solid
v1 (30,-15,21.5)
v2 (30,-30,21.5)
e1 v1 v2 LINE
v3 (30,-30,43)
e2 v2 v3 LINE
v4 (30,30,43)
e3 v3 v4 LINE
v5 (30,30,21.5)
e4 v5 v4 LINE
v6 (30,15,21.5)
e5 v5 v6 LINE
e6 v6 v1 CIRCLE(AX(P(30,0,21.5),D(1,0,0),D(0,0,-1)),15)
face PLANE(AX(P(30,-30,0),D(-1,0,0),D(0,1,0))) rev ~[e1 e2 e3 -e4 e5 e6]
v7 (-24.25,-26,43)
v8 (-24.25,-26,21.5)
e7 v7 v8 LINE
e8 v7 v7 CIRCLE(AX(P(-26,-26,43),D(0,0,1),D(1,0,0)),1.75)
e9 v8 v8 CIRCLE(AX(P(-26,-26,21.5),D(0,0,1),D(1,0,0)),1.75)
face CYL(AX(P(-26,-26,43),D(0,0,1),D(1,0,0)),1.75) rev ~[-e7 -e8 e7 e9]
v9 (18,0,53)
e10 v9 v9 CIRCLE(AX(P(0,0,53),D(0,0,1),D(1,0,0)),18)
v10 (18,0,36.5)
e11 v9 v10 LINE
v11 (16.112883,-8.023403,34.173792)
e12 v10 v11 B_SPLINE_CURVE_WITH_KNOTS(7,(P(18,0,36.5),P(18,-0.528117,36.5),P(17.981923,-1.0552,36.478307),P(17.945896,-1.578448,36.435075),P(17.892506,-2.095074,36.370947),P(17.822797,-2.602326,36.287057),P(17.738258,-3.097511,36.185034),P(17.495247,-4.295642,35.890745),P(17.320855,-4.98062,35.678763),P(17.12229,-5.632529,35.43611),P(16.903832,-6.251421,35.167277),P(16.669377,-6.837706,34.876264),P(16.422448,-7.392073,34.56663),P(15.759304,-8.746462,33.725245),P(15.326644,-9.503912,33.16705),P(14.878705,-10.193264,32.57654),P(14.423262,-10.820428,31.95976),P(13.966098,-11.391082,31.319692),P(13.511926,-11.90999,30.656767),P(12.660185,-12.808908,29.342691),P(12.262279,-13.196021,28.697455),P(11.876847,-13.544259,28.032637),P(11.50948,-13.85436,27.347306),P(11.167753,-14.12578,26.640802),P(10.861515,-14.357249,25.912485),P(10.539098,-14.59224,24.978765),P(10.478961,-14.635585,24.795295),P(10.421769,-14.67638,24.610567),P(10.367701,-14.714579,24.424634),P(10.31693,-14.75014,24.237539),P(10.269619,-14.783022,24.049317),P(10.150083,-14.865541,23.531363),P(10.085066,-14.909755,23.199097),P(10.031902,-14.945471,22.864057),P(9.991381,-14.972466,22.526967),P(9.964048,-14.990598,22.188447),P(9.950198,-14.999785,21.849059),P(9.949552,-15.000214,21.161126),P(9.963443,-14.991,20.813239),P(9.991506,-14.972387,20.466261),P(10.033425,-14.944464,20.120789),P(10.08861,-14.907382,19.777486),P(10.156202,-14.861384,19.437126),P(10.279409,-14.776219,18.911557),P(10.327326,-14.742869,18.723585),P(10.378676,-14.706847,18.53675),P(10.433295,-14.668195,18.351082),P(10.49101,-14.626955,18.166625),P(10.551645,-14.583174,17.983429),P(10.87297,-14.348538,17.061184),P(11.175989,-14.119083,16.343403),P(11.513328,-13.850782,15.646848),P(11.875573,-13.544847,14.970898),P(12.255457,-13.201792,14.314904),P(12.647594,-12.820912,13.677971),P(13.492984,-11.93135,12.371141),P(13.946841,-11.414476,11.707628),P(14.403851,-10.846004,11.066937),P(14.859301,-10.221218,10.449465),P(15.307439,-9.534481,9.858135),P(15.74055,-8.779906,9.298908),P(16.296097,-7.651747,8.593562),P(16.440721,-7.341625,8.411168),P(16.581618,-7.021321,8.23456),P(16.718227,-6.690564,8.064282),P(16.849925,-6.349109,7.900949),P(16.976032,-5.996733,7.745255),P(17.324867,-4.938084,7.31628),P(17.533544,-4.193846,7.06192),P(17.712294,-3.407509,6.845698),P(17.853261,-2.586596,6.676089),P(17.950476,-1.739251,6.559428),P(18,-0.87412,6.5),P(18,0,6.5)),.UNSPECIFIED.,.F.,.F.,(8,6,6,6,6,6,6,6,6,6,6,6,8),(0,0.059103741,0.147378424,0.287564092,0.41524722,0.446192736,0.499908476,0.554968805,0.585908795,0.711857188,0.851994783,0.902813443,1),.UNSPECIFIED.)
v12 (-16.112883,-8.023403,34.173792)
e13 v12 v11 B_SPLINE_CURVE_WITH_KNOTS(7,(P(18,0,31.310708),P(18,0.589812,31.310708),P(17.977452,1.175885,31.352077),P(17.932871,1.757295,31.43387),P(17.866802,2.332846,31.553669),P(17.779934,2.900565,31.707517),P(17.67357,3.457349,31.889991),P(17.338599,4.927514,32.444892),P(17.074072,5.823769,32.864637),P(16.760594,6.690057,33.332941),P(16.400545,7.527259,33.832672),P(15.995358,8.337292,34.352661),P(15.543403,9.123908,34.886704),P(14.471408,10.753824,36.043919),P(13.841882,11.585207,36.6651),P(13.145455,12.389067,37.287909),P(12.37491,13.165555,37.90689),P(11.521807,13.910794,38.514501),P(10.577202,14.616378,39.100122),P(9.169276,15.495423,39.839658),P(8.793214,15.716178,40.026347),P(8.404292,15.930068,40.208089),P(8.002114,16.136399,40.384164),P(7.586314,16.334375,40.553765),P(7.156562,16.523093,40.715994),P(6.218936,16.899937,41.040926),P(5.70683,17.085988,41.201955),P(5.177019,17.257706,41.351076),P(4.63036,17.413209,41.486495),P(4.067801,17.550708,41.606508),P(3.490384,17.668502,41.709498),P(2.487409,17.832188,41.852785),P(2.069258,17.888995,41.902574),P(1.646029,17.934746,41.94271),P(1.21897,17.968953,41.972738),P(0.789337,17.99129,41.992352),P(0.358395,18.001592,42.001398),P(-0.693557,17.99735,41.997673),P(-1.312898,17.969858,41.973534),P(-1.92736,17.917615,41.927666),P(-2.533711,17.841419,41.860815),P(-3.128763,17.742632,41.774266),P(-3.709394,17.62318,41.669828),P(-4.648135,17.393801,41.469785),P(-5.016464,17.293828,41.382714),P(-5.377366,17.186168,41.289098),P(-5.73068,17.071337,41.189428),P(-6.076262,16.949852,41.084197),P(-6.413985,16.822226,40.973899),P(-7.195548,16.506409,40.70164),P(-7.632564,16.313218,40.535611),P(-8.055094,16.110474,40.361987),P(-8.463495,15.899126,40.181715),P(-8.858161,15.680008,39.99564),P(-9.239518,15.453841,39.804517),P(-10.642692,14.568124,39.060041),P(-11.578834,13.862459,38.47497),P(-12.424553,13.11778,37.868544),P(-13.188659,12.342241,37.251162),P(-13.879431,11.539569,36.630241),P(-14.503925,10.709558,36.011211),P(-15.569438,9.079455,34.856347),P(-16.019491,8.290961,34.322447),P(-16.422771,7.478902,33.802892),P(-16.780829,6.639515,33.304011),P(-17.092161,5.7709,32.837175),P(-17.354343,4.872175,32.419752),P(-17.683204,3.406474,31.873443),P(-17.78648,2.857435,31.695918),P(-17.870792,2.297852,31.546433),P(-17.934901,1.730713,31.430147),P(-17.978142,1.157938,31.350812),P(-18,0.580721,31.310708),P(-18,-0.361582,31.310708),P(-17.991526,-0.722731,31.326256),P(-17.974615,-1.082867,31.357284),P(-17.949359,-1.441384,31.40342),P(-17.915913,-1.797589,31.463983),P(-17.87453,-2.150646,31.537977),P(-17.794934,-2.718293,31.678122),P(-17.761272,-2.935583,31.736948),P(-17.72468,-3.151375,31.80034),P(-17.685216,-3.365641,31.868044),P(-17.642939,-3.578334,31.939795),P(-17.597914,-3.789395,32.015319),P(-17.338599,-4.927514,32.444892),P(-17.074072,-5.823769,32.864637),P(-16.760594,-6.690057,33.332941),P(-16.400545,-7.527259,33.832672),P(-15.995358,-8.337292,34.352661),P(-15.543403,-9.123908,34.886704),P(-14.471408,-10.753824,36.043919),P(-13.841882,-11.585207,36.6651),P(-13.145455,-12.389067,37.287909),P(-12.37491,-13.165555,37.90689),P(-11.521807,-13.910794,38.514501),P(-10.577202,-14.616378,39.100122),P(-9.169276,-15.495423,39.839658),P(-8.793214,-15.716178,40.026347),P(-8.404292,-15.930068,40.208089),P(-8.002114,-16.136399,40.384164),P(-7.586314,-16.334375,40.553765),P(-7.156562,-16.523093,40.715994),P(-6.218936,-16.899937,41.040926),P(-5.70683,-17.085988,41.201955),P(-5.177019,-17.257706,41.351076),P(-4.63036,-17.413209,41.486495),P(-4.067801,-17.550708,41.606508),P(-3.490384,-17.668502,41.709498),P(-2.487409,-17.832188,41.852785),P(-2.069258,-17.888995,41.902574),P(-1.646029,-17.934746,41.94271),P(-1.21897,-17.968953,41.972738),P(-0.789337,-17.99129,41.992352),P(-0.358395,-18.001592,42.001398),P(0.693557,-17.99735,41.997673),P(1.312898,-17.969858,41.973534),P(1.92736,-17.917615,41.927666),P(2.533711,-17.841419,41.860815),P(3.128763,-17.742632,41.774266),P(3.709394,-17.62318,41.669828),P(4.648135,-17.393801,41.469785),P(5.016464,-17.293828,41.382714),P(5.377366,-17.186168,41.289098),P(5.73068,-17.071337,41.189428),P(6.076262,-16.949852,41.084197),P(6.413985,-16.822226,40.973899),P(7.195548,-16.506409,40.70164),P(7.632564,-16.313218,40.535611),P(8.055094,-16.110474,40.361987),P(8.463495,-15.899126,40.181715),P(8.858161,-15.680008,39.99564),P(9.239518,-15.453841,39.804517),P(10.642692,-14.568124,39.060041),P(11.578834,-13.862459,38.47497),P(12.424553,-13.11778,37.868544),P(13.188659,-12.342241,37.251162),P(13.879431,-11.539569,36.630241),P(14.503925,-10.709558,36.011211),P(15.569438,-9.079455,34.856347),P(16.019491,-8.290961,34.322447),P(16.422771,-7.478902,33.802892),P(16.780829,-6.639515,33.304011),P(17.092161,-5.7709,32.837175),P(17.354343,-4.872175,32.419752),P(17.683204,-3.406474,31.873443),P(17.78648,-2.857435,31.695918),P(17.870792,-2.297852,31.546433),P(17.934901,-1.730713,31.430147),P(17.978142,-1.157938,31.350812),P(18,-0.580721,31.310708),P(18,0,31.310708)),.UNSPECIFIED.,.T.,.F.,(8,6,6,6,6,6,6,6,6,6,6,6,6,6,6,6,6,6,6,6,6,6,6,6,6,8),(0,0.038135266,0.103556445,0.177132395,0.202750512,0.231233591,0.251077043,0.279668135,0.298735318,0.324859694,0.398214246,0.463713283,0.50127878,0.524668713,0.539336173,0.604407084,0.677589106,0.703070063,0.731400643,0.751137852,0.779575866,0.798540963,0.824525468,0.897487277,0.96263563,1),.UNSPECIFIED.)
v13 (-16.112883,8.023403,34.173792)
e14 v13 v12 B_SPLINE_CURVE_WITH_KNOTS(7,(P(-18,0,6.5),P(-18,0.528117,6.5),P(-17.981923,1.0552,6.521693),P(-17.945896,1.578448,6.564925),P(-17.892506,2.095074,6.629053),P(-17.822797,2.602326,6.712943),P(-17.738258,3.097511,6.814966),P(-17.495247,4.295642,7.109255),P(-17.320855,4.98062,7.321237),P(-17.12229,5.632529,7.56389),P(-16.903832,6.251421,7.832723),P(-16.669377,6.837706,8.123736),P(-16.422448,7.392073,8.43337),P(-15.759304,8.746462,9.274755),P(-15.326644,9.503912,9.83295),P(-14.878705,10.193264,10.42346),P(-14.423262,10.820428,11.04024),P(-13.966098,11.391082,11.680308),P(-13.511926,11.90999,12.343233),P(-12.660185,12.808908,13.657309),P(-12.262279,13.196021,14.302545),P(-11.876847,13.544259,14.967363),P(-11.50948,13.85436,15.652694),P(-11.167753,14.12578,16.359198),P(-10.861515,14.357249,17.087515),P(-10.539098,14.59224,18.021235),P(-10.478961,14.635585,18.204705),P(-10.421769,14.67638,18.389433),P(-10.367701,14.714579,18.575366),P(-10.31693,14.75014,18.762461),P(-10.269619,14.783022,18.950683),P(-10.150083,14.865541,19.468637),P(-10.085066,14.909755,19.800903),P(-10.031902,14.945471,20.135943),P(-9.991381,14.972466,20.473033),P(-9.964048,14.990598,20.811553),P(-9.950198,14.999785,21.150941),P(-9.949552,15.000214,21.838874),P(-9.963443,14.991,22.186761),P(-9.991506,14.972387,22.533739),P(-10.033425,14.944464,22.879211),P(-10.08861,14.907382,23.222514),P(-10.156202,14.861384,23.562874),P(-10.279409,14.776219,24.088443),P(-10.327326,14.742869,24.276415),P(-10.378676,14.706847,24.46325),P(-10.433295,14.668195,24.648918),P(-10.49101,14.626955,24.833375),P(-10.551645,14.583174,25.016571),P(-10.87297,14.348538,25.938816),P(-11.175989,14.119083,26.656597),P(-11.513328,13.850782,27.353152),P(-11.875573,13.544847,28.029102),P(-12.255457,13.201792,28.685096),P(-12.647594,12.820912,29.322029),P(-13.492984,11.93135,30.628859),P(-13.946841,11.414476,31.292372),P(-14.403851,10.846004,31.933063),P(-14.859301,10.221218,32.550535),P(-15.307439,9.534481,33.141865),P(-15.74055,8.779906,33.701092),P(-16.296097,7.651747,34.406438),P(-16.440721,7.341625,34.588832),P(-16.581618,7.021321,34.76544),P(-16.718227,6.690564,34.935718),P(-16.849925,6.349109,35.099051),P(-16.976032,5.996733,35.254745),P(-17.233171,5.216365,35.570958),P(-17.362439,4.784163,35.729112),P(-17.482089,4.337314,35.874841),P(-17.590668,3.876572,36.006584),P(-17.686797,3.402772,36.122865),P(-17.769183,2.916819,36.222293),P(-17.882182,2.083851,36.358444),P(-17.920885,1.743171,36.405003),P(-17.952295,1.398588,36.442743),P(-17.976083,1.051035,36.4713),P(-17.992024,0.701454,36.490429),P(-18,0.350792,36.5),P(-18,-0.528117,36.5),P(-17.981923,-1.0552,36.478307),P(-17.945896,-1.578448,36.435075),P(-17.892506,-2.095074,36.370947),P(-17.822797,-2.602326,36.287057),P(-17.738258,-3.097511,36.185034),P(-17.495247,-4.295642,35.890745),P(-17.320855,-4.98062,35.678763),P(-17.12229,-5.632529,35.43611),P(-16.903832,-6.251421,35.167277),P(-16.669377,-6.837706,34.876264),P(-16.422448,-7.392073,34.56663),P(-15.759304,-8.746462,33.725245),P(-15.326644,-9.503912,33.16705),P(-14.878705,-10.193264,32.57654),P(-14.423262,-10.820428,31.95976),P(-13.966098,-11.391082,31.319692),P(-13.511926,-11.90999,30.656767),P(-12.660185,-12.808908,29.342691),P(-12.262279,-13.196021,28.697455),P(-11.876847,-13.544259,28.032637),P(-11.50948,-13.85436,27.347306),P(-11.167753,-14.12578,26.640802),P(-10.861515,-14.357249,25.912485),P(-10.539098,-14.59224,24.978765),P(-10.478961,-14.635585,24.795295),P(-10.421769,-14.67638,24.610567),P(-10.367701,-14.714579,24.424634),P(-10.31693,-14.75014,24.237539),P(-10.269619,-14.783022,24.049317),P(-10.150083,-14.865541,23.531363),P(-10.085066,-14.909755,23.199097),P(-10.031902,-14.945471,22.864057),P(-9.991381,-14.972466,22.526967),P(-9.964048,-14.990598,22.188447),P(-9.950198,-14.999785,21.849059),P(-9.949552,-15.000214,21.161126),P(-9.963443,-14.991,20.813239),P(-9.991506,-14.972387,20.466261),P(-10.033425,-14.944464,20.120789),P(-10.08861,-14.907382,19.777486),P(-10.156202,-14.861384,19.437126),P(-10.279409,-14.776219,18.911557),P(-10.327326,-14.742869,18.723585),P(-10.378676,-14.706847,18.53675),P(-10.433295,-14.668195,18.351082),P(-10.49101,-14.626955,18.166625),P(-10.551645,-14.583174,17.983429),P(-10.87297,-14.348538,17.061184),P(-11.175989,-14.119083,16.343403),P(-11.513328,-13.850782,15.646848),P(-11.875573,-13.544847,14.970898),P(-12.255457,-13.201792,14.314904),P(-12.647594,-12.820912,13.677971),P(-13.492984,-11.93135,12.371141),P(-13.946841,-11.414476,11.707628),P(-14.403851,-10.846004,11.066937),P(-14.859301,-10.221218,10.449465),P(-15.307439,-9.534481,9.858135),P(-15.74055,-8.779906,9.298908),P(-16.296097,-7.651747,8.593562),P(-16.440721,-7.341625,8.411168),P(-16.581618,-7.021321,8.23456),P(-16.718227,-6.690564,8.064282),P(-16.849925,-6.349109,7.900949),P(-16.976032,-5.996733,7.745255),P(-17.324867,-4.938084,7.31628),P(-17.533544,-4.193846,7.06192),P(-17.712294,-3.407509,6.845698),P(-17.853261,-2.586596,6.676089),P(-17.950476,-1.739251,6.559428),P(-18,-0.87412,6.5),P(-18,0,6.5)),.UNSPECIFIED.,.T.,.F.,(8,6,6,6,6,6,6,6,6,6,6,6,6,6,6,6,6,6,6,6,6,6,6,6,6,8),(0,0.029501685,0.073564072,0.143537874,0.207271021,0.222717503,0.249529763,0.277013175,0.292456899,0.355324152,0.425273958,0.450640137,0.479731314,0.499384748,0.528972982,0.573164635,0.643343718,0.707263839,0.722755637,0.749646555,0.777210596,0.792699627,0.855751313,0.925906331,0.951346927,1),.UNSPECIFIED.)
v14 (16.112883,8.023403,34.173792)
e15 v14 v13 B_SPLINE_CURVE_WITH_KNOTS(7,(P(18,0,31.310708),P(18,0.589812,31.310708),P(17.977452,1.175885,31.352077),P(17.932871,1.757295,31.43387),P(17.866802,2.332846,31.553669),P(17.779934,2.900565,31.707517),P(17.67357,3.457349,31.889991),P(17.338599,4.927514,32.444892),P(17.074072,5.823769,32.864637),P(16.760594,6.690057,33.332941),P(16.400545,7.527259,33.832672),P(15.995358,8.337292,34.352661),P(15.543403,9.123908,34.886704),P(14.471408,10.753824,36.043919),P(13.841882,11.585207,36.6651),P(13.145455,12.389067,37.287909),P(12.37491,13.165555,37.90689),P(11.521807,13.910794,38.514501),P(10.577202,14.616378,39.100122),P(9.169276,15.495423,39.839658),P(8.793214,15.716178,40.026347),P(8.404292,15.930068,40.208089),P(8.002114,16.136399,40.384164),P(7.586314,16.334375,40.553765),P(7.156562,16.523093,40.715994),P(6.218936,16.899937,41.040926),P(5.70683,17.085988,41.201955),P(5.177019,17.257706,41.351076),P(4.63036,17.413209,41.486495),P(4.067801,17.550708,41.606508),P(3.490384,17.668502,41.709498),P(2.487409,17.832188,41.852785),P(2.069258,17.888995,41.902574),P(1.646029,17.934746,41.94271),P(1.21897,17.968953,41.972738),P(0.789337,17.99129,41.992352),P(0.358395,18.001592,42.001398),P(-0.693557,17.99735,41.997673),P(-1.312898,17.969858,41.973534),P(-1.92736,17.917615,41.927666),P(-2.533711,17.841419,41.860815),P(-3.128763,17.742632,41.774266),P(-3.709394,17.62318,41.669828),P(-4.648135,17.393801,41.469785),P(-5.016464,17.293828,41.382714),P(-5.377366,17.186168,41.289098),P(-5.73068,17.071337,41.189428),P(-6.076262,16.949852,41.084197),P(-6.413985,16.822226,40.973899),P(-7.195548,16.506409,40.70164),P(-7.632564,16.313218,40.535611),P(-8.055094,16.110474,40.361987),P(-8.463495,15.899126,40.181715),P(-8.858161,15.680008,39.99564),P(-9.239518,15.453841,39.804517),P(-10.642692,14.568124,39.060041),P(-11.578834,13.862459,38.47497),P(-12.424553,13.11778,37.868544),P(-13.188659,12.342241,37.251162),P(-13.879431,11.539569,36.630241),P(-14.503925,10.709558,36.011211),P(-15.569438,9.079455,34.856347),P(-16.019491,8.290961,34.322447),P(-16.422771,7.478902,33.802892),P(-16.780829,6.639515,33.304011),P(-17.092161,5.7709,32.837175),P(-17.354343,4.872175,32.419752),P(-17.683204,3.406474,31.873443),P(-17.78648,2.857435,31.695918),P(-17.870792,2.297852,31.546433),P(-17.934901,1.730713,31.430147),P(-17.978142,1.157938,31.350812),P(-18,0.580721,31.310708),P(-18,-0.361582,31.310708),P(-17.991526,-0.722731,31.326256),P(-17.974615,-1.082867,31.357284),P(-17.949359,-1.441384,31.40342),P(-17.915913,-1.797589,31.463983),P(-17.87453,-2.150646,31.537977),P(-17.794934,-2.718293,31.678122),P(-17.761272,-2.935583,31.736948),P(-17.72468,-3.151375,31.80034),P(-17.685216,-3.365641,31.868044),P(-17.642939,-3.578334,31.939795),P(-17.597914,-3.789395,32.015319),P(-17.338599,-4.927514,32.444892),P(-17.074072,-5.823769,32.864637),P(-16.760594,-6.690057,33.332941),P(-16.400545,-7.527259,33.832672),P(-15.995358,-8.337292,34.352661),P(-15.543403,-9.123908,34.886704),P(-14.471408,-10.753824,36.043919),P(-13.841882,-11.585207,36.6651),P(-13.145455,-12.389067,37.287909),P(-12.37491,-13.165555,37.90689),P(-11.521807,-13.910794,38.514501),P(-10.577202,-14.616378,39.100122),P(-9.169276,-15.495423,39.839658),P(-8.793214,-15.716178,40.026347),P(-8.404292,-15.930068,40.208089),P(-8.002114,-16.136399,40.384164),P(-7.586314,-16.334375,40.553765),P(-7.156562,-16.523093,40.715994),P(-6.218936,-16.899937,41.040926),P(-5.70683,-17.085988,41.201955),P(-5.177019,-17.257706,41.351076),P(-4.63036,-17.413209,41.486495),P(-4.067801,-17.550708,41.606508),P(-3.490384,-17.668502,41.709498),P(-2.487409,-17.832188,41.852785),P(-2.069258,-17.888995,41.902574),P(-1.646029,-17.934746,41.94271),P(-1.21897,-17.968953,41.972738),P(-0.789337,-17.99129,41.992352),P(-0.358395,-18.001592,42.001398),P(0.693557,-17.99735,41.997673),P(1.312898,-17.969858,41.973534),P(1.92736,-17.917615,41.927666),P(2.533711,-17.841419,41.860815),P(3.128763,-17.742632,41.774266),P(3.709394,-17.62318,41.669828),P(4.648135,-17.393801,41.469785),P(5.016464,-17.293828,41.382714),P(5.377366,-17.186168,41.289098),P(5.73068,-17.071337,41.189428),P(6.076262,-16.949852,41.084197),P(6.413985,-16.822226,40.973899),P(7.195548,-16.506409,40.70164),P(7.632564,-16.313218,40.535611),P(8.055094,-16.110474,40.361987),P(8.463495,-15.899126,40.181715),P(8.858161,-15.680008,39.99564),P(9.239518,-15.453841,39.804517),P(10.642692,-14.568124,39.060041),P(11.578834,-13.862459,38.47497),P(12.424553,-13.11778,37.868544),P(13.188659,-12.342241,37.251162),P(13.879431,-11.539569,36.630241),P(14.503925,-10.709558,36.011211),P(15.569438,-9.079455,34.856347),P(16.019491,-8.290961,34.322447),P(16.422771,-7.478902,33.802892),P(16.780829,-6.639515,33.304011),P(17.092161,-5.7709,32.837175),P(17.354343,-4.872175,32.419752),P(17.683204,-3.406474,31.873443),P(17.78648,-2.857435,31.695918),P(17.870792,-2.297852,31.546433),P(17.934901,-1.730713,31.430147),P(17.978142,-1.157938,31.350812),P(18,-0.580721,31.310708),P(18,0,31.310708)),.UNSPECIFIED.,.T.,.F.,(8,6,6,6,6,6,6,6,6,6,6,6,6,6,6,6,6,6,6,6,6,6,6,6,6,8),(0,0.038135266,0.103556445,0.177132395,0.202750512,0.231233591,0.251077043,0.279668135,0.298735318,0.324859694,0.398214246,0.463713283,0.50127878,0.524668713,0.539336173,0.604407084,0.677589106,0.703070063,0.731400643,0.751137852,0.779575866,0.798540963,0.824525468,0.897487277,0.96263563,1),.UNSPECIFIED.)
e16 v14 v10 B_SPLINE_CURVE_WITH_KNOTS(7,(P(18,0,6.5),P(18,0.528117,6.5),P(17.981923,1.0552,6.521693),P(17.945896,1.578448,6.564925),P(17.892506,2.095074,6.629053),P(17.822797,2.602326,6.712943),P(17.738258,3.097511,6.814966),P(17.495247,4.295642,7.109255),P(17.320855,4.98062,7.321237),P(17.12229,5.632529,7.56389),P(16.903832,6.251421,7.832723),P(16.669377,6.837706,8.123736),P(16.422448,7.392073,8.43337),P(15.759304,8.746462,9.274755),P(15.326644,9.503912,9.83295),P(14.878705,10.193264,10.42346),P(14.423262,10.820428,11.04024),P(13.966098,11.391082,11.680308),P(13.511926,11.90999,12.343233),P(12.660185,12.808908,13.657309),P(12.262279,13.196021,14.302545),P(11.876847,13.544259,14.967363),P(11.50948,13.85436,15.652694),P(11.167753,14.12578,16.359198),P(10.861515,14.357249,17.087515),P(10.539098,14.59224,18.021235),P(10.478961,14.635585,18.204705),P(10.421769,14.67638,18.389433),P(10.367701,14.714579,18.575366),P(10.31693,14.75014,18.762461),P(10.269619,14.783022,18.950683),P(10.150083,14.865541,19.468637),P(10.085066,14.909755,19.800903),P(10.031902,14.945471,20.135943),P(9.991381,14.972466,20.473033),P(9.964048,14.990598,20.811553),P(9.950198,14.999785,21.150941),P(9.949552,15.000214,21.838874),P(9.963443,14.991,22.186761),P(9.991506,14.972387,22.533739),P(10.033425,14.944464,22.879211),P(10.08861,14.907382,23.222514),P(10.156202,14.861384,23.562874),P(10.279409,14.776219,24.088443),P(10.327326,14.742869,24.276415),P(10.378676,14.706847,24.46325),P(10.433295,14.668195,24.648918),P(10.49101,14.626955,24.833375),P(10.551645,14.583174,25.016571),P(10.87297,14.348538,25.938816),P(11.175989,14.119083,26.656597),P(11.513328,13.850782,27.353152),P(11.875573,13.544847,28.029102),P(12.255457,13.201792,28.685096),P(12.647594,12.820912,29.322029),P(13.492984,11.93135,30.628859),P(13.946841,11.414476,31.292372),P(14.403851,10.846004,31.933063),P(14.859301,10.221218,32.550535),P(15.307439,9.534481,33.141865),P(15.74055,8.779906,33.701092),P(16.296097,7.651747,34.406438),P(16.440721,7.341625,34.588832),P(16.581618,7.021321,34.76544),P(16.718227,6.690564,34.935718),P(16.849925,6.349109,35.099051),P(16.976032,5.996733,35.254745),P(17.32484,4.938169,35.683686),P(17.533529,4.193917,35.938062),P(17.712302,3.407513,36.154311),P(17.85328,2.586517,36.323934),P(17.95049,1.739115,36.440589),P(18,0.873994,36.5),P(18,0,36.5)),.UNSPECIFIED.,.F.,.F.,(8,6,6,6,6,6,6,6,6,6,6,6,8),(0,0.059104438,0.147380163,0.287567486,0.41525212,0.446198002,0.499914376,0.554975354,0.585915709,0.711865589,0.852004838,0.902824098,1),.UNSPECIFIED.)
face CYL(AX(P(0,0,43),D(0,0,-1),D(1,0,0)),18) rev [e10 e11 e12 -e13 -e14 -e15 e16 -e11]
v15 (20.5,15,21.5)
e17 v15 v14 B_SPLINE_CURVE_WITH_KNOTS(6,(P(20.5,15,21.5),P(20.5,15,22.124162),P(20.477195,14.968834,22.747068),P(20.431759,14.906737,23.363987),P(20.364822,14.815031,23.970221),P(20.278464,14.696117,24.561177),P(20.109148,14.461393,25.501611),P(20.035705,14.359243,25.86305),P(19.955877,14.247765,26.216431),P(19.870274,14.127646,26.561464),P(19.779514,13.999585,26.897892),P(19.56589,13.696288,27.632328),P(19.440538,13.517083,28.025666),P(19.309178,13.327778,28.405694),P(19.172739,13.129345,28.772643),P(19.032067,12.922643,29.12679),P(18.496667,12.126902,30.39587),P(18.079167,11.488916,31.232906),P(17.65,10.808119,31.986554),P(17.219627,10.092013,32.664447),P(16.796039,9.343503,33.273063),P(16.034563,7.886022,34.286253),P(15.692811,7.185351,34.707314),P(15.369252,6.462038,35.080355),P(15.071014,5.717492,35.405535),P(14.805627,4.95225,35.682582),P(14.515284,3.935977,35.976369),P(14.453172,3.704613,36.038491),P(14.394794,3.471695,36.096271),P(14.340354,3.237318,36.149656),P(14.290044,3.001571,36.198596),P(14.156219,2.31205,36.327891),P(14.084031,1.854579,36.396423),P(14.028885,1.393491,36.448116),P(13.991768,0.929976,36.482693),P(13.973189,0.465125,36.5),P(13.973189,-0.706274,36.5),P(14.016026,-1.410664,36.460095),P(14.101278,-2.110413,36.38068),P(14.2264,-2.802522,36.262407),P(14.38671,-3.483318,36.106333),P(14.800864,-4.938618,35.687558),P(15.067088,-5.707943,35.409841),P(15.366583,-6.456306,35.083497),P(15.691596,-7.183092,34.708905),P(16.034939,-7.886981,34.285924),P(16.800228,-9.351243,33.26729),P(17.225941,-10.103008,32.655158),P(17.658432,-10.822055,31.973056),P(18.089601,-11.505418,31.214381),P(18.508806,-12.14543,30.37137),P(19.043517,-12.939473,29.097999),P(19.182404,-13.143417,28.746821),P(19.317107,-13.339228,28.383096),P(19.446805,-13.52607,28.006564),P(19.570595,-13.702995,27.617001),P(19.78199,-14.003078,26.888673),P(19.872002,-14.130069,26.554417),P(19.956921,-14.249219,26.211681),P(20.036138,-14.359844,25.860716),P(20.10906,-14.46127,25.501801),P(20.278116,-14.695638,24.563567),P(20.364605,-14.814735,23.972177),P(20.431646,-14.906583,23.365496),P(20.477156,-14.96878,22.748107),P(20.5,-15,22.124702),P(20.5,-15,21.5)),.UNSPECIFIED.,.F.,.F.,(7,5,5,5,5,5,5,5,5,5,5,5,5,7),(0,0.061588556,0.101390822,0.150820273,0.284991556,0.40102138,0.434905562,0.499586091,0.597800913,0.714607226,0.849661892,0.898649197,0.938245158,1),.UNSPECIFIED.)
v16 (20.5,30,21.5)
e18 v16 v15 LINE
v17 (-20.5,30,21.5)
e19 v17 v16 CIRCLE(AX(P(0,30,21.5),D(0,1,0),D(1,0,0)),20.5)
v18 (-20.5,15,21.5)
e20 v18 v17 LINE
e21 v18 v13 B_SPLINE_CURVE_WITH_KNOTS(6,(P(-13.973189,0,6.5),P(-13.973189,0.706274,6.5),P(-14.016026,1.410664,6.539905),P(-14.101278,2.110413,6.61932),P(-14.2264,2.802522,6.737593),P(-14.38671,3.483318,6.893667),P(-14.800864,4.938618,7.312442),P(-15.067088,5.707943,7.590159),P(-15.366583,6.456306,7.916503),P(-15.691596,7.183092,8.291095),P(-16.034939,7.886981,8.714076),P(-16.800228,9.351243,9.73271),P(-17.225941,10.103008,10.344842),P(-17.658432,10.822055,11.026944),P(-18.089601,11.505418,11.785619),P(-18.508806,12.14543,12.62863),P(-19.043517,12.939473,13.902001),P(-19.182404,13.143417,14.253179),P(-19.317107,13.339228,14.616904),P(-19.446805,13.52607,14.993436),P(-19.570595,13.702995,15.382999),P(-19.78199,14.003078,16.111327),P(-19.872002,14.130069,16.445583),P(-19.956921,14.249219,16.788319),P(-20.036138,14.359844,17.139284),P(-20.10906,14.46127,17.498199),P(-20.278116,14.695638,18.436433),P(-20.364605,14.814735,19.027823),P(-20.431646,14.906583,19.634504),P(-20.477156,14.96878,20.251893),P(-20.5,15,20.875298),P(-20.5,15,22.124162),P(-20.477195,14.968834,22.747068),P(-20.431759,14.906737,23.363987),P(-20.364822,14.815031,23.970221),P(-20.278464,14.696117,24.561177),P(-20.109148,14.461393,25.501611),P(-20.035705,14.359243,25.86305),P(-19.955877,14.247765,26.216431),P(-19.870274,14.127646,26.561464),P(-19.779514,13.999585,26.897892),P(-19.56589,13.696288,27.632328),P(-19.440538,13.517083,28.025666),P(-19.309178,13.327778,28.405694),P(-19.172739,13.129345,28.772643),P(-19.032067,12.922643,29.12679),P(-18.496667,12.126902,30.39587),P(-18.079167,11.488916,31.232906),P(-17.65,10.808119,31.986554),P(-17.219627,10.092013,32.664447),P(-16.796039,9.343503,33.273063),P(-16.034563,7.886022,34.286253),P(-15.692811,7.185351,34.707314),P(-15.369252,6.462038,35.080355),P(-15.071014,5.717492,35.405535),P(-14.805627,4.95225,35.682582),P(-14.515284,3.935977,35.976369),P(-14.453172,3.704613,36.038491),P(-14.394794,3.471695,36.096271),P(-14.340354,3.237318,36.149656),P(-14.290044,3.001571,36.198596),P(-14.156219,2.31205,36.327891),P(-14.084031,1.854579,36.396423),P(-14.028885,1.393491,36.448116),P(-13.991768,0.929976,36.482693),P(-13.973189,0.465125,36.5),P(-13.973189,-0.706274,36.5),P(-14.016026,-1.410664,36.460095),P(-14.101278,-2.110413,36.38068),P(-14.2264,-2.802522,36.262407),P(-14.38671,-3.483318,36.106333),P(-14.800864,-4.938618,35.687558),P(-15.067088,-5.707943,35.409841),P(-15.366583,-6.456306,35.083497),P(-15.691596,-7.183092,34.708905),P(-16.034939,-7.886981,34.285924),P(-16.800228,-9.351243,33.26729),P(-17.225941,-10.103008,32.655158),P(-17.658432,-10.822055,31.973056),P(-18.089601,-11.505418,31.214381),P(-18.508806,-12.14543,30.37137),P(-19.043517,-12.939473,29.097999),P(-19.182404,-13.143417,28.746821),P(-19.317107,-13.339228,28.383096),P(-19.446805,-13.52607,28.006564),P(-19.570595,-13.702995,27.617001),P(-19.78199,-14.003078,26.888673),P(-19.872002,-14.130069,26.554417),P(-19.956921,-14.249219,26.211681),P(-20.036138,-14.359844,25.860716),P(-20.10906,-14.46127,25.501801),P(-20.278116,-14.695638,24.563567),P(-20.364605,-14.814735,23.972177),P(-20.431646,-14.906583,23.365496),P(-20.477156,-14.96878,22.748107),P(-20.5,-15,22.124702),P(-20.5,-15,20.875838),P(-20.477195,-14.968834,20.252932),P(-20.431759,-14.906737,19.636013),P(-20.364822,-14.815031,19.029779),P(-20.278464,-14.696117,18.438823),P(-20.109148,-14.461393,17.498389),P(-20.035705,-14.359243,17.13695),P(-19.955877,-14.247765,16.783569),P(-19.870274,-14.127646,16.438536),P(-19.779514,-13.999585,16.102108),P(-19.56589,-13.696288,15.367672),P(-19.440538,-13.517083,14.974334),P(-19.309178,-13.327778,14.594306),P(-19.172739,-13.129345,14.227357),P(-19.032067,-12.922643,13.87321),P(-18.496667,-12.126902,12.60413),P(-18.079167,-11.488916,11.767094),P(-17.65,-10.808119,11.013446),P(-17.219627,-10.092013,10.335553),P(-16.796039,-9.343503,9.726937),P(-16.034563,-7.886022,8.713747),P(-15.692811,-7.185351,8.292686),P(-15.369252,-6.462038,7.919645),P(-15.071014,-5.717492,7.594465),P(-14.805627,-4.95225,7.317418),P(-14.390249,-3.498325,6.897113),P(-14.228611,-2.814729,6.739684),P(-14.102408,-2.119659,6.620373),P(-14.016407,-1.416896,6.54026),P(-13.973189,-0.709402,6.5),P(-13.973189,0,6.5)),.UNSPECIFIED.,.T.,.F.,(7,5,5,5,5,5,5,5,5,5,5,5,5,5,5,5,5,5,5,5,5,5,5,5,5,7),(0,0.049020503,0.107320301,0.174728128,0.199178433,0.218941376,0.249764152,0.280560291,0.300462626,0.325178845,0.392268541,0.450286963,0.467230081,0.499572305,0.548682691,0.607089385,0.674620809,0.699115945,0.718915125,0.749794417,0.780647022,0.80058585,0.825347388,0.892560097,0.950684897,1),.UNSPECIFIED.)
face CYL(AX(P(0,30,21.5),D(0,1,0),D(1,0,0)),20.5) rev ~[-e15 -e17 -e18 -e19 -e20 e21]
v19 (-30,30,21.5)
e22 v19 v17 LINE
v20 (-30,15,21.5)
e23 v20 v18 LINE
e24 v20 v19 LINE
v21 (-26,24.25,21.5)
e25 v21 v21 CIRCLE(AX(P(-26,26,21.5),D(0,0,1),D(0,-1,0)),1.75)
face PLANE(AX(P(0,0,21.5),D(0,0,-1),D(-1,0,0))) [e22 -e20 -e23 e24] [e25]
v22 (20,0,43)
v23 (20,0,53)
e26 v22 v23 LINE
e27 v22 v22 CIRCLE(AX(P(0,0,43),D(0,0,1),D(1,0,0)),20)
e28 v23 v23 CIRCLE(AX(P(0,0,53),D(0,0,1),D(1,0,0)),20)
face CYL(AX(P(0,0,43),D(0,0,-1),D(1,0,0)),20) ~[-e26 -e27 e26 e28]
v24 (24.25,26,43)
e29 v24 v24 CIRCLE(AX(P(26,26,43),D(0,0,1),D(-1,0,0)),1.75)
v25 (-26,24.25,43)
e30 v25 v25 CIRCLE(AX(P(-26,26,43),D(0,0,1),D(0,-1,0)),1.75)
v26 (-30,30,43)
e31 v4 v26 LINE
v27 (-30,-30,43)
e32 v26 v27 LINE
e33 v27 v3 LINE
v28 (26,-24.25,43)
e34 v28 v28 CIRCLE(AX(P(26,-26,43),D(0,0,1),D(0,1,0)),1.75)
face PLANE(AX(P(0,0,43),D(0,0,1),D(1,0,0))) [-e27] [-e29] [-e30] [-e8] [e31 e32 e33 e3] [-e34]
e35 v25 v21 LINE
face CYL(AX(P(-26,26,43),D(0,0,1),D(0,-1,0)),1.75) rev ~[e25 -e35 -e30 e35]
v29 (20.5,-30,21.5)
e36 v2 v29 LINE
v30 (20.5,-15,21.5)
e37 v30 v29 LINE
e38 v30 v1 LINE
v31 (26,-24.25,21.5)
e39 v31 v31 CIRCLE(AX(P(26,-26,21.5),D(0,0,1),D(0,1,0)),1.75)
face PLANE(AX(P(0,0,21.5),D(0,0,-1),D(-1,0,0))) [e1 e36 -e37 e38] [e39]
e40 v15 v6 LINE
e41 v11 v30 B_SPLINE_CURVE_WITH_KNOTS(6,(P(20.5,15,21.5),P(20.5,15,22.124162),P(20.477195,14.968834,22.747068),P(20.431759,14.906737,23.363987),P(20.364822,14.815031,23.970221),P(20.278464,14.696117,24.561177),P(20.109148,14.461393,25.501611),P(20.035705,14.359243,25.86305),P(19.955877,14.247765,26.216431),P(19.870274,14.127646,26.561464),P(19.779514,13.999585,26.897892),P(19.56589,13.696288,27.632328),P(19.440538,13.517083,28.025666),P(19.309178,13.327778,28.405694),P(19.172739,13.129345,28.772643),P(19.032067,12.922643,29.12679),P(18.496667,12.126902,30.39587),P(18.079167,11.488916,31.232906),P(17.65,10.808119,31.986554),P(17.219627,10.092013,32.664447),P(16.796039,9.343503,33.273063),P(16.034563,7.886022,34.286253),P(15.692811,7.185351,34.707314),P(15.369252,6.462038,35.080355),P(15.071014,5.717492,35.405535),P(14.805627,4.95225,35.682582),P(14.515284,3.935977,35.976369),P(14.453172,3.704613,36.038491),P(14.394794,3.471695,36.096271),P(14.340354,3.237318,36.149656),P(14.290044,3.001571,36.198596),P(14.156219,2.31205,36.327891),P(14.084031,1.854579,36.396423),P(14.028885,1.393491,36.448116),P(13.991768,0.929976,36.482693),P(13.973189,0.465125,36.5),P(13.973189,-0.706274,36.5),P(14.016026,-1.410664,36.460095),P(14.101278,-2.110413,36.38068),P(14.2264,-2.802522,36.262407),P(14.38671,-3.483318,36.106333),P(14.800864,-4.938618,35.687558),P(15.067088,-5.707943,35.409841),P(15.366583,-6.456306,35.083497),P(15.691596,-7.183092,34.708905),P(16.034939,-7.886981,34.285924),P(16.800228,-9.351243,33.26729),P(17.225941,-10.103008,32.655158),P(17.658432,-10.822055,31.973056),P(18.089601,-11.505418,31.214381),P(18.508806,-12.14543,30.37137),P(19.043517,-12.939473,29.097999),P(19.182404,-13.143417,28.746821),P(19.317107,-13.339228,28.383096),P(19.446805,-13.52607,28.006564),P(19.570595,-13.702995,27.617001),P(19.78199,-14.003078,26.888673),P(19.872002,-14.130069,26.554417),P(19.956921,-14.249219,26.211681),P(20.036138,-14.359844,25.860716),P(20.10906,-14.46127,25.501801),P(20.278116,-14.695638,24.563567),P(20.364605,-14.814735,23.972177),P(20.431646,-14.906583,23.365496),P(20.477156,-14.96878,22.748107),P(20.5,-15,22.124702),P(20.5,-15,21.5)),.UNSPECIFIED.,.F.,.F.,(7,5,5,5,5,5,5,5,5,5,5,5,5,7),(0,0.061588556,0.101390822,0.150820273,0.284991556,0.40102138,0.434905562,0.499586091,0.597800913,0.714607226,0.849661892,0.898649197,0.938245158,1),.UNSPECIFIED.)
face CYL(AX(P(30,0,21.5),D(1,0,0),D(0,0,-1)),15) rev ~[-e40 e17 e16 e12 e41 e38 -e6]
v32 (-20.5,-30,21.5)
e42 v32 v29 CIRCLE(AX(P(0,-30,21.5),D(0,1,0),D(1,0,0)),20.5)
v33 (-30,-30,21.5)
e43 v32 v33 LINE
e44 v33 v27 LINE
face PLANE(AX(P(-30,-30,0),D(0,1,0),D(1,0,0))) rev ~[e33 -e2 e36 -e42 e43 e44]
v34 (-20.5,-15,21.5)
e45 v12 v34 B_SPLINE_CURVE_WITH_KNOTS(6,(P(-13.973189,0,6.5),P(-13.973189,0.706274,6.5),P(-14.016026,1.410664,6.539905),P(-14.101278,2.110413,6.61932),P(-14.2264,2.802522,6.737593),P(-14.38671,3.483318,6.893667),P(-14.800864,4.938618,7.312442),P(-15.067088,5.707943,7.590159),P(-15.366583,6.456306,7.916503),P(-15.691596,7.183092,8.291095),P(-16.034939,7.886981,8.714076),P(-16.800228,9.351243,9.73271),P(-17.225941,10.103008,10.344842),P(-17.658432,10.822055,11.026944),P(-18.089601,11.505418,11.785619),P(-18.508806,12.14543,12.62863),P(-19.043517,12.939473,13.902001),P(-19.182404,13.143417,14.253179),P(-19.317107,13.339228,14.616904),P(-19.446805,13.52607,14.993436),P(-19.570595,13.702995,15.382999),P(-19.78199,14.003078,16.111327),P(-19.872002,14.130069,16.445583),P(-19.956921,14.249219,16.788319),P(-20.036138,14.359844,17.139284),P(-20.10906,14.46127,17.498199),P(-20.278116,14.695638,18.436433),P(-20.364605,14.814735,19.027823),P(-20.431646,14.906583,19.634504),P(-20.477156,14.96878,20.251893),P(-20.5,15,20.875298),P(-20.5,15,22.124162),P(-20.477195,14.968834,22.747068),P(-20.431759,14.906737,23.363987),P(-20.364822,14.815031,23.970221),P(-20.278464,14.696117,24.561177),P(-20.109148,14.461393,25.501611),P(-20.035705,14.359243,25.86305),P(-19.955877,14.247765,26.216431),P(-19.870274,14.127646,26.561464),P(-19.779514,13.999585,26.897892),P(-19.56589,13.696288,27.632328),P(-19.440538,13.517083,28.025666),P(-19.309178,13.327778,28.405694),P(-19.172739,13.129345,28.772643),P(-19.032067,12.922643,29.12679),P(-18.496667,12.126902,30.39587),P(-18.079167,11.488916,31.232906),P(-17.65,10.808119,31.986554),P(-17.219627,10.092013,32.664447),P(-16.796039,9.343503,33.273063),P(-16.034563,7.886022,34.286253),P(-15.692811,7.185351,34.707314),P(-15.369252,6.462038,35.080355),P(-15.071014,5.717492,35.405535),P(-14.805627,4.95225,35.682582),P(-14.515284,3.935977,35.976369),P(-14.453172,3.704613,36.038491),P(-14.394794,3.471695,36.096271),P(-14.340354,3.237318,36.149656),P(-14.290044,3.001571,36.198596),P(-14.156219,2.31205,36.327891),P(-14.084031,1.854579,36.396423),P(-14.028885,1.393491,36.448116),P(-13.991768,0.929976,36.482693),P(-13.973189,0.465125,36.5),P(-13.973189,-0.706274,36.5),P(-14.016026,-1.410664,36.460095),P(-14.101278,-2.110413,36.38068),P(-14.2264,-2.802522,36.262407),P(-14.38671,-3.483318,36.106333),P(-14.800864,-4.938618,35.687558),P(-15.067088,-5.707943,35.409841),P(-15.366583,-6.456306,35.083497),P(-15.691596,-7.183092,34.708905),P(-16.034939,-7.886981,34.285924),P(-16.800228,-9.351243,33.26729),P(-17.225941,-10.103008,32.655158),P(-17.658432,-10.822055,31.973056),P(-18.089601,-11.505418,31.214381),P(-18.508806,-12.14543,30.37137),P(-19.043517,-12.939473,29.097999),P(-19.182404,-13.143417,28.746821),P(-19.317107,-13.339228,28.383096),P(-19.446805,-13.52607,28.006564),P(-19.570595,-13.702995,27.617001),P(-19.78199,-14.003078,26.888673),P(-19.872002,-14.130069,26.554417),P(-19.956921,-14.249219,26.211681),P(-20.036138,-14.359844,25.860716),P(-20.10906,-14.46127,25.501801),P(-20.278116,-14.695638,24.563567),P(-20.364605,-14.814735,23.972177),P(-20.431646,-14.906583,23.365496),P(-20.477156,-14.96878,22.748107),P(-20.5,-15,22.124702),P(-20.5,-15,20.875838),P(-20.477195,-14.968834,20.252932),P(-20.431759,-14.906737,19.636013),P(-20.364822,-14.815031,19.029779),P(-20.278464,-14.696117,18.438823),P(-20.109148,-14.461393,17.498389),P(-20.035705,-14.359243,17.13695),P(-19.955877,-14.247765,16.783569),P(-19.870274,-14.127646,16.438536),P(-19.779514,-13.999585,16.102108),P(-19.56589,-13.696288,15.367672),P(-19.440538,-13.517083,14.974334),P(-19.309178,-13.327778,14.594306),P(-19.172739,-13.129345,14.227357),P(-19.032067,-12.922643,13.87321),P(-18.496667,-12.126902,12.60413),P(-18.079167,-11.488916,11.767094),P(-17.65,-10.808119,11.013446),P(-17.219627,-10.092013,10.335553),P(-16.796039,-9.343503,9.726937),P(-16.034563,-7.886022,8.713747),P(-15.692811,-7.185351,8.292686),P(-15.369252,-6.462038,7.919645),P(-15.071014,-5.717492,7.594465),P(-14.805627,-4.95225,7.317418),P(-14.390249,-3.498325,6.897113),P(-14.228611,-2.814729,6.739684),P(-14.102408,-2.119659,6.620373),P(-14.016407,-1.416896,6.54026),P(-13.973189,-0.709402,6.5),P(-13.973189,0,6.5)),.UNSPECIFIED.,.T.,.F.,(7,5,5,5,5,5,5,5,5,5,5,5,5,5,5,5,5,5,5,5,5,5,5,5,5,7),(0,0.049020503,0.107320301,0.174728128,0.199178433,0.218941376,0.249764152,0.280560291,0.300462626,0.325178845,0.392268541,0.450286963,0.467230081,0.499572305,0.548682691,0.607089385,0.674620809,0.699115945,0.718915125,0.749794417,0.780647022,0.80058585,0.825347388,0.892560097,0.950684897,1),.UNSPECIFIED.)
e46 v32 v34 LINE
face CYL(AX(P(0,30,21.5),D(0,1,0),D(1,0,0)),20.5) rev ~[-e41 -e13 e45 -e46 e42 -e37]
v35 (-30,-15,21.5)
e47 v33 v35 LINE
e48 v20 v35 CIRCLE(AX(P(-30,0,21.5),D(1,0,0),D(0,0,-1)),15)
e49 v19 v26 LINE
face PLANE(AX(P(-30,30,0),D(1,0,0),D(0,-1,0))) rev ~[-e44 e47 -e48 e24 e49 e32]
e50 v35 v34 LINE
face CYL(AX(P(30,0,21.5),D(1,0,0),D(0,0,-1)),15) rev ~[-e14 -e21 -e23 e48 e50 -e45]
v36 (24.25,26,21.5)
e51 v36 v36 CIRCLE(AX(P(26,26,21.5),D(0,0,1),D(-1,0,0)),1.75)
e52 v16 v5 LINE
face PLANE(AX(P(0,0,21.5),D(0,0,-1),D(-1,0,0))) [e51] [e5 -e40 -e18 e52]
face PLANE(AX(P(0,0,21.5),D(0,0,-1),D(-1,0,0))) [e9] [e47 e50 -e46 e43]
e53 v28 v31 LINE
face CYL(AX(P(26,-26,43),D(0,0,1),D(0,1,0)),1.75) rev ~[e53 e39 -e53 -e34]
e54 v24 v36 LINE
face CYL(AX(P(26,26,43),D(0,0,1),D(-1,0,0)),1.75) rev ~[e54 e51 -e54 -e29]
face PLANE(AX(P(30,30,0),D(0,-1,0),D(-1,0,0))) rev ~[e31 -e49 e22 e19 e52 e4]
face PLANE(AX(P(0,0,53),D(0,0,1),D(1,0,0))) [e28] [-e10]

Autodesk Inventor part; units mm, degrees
ref_plane "YZ Plane" through (0, 0, 0) normal (1, 0, 0) x (0, 1, 0)
ref_plane "XZ Plane" through (0, 0, 0) normal (0, 1, 0) x (-1, 0, 0)
ref_plane "XY Plane" through (0, 0, 0) normal (0, 0, 1) x (1, 0, 0)
sketch "Sketch1" plane through (0, 0, 0) normal (0, 0, 1) x (1, 0, 0)
  line L0 (-30, -30) -> (30, -30)
  line L1 (30, -30) -> (30, 30)
  line L2 (30, 30) -> (-30, 30)
  line L3 (-30, 30) -> (-30, -30)
  line L4 (-30, -30) -> (30, 30) construction
  line L5 (30, -30) -> (-30, 30) construction
  point P0 (0, 0)
  dimension "d0" = 60
  dimension "d1" = 60
extrude "Extrusion1" add sketch "Sketch1" along normal blind 43
sketch "Sketch2" plane through (0, 0, 43) normal (0, 0, 1) x (1, 0, 0)
  circle A0 centre (0, 0) radius 18
  dimension "d4" = 36
extrude "Extrusion2" cut sketch "Sketch2" against normal blind 43
sketch "Sketch3" plane through (30, -30, 0) normal (1, 0, 0) x (0, 0, -1)
  line L0 (0, 0) -> (0, 60) projected
  line L1 (0, 60) -> (-43, 60) projected
  line L2 (-43, 0) -> (-43, 60) projected
  line L3 (0, 0) -> (-43, 0) projected
  circle A0 centre (-21.5, 30) radius 15
  point P0 (0, 30)
  dimension "d7" = 30
  dimension "d8" = 21.5
  dimension "d9" = 30
  dimension "d10" = 60
  dimension "d11" = 43
extrude "Extrusion3" cut sketch "Sketch3" against normal blind 430 contours A0
sketch "Sketch4" plane through (-30, 30, 0) normal (0, 1, 0) x (1, 0, 0)
  line L0 (60, 0) -> (0, 0) projected
  line L1 (0, 0) -> (0, -43) projected
  line L2 (60, -43) -> (0, -43) projected
  line L3 (60, 0) -> (60, -43) projected
  circle A0 centre (30, -21.5) radius 20.5
  point P0 (30, 0)
  dimension "d14" = 41
  dimension "d15" = 60
  dimension "d16" = 43
  dimension "d17" = 21.5
  dimension "d18" = 30
extrude "Extrusion4" cut sketch "Sketch4" against normal blind 430 contours A0
sketch "Sketch5" plane through (0, 0, 43) normal (0, 0, 1) x (1, 0, 0)
  circle A0 centre (0, 0) radius 18 projected
  line L0 (-30, -30) -> (30, -30) projected
  line L1 (30, -30) -> (30, 30) projected
  line L2 (30, 30) -> (-30, 30) projected
  line L3 (-30, 30) -> (-30, -30) projected
  circle A1 centre (0, 0) radius 20
  dimension "d21" = 2
extrude "Extrusion5" add sketch "Sketch5" along normal blind 10 contours A1
sketch "Sketch6" plane through (0, 0, 43) normal (0, 0, 1) x (1, 0, 0)
  circle A0 centre (0, 0) radius 20 projected
  line L0 (-30, -30) -> (30, -30) projected
  line L1 (30, -30) -> (30, 30) projected
  line L2 (30, 30) -> (-30, 30) projected
  line L3 (-30, 30) -> (-30, -30) projected
  circle A1 centre (-26, -26) radius 1.75
  dimension "d24" = 3.5
  dimension "d25" = 4
  dimension "d26" = 4
extrude "Extrusion6" cut sketch "Sketch6" against normal blind 500 contours A1
pattern_circular "Circular Pattern1" count 4 over 360 about axis through (0, 0, 43) along (0, 0, -1) of "Extrusion6"
sketch "Sketch7" plane through (0, 0, 0) normal (0, 0, -1) x (-1, 0, 0)
  circle A0 centre (-26, -26) radius 1.75 projected
  circle A1 centre (-26, 26) radius 1.75 projected
  circle A2 centre (26, 26) radius 1.75 projected
  circle A3 centre (26, -26) radius 1.75 projected
  circle A4 centre (0, 0) radius 18 projected
  line L0 (30, -30) -> (-30, -30) projected
  line L1 (30, 30) -> (30, -30) projected
  line L2 (-30, 30) -> (30, 30) projected
  line L3 (-30, -30) -> (-30, 30) projected
  line L4 (49.4282, -48.51) -> (-49.4282, -48.51)
  line L5 (-49.4282, -48.51) -> (-49.4282, 48.51)
  line L6 (-49.4282, 48.51) -> (49.4282, 48.51)
  line L7 (49.4282, 48.51) -> (49.4282, -48.51)
  line L8 (49.4282, -48.51) -> (-49.4282, 48.51) construction
  line L9 (-49.4282, -48.51) -> (49.4282, 48.51) construction
extrude "Extrusion7" cut sketch "Sketch7" against normal blind 21.5 contours A0 | A1 | A2 | A3 | A4 | L0 L3 L2 L1 | L4 L5 L6 L7
sketch "Sketch13" plane through (0, 0, 43) normal (0, 0, 1) x (1, 0, 0)
  circle A0 centre (0, 0) radius 20 projected
  line L0 (-30, -30) -> (30, -30) projected
  line L1 (30, -30) -> (30, 30) projected
  line L2 (30, 30) -> (-30, 30) projected
  line L3 (-30, 30) -> (-30, -30) projected
  circle A1 centre (0, 0) radius 30
  dimension "d55" = 10
equation "\"d8\" = 0.5 * d11"
equation "\"d9\" = 0.5 * d10"
equation "\"d17\" = 0.5 * d16"
equation "\"d18\" = 0.5 * d15"
equation "\"d26\" = d25"
equation "\"d32\" = 0.5 * d2"
equation "\"d2\" = 43"
properties part number "peca2"
